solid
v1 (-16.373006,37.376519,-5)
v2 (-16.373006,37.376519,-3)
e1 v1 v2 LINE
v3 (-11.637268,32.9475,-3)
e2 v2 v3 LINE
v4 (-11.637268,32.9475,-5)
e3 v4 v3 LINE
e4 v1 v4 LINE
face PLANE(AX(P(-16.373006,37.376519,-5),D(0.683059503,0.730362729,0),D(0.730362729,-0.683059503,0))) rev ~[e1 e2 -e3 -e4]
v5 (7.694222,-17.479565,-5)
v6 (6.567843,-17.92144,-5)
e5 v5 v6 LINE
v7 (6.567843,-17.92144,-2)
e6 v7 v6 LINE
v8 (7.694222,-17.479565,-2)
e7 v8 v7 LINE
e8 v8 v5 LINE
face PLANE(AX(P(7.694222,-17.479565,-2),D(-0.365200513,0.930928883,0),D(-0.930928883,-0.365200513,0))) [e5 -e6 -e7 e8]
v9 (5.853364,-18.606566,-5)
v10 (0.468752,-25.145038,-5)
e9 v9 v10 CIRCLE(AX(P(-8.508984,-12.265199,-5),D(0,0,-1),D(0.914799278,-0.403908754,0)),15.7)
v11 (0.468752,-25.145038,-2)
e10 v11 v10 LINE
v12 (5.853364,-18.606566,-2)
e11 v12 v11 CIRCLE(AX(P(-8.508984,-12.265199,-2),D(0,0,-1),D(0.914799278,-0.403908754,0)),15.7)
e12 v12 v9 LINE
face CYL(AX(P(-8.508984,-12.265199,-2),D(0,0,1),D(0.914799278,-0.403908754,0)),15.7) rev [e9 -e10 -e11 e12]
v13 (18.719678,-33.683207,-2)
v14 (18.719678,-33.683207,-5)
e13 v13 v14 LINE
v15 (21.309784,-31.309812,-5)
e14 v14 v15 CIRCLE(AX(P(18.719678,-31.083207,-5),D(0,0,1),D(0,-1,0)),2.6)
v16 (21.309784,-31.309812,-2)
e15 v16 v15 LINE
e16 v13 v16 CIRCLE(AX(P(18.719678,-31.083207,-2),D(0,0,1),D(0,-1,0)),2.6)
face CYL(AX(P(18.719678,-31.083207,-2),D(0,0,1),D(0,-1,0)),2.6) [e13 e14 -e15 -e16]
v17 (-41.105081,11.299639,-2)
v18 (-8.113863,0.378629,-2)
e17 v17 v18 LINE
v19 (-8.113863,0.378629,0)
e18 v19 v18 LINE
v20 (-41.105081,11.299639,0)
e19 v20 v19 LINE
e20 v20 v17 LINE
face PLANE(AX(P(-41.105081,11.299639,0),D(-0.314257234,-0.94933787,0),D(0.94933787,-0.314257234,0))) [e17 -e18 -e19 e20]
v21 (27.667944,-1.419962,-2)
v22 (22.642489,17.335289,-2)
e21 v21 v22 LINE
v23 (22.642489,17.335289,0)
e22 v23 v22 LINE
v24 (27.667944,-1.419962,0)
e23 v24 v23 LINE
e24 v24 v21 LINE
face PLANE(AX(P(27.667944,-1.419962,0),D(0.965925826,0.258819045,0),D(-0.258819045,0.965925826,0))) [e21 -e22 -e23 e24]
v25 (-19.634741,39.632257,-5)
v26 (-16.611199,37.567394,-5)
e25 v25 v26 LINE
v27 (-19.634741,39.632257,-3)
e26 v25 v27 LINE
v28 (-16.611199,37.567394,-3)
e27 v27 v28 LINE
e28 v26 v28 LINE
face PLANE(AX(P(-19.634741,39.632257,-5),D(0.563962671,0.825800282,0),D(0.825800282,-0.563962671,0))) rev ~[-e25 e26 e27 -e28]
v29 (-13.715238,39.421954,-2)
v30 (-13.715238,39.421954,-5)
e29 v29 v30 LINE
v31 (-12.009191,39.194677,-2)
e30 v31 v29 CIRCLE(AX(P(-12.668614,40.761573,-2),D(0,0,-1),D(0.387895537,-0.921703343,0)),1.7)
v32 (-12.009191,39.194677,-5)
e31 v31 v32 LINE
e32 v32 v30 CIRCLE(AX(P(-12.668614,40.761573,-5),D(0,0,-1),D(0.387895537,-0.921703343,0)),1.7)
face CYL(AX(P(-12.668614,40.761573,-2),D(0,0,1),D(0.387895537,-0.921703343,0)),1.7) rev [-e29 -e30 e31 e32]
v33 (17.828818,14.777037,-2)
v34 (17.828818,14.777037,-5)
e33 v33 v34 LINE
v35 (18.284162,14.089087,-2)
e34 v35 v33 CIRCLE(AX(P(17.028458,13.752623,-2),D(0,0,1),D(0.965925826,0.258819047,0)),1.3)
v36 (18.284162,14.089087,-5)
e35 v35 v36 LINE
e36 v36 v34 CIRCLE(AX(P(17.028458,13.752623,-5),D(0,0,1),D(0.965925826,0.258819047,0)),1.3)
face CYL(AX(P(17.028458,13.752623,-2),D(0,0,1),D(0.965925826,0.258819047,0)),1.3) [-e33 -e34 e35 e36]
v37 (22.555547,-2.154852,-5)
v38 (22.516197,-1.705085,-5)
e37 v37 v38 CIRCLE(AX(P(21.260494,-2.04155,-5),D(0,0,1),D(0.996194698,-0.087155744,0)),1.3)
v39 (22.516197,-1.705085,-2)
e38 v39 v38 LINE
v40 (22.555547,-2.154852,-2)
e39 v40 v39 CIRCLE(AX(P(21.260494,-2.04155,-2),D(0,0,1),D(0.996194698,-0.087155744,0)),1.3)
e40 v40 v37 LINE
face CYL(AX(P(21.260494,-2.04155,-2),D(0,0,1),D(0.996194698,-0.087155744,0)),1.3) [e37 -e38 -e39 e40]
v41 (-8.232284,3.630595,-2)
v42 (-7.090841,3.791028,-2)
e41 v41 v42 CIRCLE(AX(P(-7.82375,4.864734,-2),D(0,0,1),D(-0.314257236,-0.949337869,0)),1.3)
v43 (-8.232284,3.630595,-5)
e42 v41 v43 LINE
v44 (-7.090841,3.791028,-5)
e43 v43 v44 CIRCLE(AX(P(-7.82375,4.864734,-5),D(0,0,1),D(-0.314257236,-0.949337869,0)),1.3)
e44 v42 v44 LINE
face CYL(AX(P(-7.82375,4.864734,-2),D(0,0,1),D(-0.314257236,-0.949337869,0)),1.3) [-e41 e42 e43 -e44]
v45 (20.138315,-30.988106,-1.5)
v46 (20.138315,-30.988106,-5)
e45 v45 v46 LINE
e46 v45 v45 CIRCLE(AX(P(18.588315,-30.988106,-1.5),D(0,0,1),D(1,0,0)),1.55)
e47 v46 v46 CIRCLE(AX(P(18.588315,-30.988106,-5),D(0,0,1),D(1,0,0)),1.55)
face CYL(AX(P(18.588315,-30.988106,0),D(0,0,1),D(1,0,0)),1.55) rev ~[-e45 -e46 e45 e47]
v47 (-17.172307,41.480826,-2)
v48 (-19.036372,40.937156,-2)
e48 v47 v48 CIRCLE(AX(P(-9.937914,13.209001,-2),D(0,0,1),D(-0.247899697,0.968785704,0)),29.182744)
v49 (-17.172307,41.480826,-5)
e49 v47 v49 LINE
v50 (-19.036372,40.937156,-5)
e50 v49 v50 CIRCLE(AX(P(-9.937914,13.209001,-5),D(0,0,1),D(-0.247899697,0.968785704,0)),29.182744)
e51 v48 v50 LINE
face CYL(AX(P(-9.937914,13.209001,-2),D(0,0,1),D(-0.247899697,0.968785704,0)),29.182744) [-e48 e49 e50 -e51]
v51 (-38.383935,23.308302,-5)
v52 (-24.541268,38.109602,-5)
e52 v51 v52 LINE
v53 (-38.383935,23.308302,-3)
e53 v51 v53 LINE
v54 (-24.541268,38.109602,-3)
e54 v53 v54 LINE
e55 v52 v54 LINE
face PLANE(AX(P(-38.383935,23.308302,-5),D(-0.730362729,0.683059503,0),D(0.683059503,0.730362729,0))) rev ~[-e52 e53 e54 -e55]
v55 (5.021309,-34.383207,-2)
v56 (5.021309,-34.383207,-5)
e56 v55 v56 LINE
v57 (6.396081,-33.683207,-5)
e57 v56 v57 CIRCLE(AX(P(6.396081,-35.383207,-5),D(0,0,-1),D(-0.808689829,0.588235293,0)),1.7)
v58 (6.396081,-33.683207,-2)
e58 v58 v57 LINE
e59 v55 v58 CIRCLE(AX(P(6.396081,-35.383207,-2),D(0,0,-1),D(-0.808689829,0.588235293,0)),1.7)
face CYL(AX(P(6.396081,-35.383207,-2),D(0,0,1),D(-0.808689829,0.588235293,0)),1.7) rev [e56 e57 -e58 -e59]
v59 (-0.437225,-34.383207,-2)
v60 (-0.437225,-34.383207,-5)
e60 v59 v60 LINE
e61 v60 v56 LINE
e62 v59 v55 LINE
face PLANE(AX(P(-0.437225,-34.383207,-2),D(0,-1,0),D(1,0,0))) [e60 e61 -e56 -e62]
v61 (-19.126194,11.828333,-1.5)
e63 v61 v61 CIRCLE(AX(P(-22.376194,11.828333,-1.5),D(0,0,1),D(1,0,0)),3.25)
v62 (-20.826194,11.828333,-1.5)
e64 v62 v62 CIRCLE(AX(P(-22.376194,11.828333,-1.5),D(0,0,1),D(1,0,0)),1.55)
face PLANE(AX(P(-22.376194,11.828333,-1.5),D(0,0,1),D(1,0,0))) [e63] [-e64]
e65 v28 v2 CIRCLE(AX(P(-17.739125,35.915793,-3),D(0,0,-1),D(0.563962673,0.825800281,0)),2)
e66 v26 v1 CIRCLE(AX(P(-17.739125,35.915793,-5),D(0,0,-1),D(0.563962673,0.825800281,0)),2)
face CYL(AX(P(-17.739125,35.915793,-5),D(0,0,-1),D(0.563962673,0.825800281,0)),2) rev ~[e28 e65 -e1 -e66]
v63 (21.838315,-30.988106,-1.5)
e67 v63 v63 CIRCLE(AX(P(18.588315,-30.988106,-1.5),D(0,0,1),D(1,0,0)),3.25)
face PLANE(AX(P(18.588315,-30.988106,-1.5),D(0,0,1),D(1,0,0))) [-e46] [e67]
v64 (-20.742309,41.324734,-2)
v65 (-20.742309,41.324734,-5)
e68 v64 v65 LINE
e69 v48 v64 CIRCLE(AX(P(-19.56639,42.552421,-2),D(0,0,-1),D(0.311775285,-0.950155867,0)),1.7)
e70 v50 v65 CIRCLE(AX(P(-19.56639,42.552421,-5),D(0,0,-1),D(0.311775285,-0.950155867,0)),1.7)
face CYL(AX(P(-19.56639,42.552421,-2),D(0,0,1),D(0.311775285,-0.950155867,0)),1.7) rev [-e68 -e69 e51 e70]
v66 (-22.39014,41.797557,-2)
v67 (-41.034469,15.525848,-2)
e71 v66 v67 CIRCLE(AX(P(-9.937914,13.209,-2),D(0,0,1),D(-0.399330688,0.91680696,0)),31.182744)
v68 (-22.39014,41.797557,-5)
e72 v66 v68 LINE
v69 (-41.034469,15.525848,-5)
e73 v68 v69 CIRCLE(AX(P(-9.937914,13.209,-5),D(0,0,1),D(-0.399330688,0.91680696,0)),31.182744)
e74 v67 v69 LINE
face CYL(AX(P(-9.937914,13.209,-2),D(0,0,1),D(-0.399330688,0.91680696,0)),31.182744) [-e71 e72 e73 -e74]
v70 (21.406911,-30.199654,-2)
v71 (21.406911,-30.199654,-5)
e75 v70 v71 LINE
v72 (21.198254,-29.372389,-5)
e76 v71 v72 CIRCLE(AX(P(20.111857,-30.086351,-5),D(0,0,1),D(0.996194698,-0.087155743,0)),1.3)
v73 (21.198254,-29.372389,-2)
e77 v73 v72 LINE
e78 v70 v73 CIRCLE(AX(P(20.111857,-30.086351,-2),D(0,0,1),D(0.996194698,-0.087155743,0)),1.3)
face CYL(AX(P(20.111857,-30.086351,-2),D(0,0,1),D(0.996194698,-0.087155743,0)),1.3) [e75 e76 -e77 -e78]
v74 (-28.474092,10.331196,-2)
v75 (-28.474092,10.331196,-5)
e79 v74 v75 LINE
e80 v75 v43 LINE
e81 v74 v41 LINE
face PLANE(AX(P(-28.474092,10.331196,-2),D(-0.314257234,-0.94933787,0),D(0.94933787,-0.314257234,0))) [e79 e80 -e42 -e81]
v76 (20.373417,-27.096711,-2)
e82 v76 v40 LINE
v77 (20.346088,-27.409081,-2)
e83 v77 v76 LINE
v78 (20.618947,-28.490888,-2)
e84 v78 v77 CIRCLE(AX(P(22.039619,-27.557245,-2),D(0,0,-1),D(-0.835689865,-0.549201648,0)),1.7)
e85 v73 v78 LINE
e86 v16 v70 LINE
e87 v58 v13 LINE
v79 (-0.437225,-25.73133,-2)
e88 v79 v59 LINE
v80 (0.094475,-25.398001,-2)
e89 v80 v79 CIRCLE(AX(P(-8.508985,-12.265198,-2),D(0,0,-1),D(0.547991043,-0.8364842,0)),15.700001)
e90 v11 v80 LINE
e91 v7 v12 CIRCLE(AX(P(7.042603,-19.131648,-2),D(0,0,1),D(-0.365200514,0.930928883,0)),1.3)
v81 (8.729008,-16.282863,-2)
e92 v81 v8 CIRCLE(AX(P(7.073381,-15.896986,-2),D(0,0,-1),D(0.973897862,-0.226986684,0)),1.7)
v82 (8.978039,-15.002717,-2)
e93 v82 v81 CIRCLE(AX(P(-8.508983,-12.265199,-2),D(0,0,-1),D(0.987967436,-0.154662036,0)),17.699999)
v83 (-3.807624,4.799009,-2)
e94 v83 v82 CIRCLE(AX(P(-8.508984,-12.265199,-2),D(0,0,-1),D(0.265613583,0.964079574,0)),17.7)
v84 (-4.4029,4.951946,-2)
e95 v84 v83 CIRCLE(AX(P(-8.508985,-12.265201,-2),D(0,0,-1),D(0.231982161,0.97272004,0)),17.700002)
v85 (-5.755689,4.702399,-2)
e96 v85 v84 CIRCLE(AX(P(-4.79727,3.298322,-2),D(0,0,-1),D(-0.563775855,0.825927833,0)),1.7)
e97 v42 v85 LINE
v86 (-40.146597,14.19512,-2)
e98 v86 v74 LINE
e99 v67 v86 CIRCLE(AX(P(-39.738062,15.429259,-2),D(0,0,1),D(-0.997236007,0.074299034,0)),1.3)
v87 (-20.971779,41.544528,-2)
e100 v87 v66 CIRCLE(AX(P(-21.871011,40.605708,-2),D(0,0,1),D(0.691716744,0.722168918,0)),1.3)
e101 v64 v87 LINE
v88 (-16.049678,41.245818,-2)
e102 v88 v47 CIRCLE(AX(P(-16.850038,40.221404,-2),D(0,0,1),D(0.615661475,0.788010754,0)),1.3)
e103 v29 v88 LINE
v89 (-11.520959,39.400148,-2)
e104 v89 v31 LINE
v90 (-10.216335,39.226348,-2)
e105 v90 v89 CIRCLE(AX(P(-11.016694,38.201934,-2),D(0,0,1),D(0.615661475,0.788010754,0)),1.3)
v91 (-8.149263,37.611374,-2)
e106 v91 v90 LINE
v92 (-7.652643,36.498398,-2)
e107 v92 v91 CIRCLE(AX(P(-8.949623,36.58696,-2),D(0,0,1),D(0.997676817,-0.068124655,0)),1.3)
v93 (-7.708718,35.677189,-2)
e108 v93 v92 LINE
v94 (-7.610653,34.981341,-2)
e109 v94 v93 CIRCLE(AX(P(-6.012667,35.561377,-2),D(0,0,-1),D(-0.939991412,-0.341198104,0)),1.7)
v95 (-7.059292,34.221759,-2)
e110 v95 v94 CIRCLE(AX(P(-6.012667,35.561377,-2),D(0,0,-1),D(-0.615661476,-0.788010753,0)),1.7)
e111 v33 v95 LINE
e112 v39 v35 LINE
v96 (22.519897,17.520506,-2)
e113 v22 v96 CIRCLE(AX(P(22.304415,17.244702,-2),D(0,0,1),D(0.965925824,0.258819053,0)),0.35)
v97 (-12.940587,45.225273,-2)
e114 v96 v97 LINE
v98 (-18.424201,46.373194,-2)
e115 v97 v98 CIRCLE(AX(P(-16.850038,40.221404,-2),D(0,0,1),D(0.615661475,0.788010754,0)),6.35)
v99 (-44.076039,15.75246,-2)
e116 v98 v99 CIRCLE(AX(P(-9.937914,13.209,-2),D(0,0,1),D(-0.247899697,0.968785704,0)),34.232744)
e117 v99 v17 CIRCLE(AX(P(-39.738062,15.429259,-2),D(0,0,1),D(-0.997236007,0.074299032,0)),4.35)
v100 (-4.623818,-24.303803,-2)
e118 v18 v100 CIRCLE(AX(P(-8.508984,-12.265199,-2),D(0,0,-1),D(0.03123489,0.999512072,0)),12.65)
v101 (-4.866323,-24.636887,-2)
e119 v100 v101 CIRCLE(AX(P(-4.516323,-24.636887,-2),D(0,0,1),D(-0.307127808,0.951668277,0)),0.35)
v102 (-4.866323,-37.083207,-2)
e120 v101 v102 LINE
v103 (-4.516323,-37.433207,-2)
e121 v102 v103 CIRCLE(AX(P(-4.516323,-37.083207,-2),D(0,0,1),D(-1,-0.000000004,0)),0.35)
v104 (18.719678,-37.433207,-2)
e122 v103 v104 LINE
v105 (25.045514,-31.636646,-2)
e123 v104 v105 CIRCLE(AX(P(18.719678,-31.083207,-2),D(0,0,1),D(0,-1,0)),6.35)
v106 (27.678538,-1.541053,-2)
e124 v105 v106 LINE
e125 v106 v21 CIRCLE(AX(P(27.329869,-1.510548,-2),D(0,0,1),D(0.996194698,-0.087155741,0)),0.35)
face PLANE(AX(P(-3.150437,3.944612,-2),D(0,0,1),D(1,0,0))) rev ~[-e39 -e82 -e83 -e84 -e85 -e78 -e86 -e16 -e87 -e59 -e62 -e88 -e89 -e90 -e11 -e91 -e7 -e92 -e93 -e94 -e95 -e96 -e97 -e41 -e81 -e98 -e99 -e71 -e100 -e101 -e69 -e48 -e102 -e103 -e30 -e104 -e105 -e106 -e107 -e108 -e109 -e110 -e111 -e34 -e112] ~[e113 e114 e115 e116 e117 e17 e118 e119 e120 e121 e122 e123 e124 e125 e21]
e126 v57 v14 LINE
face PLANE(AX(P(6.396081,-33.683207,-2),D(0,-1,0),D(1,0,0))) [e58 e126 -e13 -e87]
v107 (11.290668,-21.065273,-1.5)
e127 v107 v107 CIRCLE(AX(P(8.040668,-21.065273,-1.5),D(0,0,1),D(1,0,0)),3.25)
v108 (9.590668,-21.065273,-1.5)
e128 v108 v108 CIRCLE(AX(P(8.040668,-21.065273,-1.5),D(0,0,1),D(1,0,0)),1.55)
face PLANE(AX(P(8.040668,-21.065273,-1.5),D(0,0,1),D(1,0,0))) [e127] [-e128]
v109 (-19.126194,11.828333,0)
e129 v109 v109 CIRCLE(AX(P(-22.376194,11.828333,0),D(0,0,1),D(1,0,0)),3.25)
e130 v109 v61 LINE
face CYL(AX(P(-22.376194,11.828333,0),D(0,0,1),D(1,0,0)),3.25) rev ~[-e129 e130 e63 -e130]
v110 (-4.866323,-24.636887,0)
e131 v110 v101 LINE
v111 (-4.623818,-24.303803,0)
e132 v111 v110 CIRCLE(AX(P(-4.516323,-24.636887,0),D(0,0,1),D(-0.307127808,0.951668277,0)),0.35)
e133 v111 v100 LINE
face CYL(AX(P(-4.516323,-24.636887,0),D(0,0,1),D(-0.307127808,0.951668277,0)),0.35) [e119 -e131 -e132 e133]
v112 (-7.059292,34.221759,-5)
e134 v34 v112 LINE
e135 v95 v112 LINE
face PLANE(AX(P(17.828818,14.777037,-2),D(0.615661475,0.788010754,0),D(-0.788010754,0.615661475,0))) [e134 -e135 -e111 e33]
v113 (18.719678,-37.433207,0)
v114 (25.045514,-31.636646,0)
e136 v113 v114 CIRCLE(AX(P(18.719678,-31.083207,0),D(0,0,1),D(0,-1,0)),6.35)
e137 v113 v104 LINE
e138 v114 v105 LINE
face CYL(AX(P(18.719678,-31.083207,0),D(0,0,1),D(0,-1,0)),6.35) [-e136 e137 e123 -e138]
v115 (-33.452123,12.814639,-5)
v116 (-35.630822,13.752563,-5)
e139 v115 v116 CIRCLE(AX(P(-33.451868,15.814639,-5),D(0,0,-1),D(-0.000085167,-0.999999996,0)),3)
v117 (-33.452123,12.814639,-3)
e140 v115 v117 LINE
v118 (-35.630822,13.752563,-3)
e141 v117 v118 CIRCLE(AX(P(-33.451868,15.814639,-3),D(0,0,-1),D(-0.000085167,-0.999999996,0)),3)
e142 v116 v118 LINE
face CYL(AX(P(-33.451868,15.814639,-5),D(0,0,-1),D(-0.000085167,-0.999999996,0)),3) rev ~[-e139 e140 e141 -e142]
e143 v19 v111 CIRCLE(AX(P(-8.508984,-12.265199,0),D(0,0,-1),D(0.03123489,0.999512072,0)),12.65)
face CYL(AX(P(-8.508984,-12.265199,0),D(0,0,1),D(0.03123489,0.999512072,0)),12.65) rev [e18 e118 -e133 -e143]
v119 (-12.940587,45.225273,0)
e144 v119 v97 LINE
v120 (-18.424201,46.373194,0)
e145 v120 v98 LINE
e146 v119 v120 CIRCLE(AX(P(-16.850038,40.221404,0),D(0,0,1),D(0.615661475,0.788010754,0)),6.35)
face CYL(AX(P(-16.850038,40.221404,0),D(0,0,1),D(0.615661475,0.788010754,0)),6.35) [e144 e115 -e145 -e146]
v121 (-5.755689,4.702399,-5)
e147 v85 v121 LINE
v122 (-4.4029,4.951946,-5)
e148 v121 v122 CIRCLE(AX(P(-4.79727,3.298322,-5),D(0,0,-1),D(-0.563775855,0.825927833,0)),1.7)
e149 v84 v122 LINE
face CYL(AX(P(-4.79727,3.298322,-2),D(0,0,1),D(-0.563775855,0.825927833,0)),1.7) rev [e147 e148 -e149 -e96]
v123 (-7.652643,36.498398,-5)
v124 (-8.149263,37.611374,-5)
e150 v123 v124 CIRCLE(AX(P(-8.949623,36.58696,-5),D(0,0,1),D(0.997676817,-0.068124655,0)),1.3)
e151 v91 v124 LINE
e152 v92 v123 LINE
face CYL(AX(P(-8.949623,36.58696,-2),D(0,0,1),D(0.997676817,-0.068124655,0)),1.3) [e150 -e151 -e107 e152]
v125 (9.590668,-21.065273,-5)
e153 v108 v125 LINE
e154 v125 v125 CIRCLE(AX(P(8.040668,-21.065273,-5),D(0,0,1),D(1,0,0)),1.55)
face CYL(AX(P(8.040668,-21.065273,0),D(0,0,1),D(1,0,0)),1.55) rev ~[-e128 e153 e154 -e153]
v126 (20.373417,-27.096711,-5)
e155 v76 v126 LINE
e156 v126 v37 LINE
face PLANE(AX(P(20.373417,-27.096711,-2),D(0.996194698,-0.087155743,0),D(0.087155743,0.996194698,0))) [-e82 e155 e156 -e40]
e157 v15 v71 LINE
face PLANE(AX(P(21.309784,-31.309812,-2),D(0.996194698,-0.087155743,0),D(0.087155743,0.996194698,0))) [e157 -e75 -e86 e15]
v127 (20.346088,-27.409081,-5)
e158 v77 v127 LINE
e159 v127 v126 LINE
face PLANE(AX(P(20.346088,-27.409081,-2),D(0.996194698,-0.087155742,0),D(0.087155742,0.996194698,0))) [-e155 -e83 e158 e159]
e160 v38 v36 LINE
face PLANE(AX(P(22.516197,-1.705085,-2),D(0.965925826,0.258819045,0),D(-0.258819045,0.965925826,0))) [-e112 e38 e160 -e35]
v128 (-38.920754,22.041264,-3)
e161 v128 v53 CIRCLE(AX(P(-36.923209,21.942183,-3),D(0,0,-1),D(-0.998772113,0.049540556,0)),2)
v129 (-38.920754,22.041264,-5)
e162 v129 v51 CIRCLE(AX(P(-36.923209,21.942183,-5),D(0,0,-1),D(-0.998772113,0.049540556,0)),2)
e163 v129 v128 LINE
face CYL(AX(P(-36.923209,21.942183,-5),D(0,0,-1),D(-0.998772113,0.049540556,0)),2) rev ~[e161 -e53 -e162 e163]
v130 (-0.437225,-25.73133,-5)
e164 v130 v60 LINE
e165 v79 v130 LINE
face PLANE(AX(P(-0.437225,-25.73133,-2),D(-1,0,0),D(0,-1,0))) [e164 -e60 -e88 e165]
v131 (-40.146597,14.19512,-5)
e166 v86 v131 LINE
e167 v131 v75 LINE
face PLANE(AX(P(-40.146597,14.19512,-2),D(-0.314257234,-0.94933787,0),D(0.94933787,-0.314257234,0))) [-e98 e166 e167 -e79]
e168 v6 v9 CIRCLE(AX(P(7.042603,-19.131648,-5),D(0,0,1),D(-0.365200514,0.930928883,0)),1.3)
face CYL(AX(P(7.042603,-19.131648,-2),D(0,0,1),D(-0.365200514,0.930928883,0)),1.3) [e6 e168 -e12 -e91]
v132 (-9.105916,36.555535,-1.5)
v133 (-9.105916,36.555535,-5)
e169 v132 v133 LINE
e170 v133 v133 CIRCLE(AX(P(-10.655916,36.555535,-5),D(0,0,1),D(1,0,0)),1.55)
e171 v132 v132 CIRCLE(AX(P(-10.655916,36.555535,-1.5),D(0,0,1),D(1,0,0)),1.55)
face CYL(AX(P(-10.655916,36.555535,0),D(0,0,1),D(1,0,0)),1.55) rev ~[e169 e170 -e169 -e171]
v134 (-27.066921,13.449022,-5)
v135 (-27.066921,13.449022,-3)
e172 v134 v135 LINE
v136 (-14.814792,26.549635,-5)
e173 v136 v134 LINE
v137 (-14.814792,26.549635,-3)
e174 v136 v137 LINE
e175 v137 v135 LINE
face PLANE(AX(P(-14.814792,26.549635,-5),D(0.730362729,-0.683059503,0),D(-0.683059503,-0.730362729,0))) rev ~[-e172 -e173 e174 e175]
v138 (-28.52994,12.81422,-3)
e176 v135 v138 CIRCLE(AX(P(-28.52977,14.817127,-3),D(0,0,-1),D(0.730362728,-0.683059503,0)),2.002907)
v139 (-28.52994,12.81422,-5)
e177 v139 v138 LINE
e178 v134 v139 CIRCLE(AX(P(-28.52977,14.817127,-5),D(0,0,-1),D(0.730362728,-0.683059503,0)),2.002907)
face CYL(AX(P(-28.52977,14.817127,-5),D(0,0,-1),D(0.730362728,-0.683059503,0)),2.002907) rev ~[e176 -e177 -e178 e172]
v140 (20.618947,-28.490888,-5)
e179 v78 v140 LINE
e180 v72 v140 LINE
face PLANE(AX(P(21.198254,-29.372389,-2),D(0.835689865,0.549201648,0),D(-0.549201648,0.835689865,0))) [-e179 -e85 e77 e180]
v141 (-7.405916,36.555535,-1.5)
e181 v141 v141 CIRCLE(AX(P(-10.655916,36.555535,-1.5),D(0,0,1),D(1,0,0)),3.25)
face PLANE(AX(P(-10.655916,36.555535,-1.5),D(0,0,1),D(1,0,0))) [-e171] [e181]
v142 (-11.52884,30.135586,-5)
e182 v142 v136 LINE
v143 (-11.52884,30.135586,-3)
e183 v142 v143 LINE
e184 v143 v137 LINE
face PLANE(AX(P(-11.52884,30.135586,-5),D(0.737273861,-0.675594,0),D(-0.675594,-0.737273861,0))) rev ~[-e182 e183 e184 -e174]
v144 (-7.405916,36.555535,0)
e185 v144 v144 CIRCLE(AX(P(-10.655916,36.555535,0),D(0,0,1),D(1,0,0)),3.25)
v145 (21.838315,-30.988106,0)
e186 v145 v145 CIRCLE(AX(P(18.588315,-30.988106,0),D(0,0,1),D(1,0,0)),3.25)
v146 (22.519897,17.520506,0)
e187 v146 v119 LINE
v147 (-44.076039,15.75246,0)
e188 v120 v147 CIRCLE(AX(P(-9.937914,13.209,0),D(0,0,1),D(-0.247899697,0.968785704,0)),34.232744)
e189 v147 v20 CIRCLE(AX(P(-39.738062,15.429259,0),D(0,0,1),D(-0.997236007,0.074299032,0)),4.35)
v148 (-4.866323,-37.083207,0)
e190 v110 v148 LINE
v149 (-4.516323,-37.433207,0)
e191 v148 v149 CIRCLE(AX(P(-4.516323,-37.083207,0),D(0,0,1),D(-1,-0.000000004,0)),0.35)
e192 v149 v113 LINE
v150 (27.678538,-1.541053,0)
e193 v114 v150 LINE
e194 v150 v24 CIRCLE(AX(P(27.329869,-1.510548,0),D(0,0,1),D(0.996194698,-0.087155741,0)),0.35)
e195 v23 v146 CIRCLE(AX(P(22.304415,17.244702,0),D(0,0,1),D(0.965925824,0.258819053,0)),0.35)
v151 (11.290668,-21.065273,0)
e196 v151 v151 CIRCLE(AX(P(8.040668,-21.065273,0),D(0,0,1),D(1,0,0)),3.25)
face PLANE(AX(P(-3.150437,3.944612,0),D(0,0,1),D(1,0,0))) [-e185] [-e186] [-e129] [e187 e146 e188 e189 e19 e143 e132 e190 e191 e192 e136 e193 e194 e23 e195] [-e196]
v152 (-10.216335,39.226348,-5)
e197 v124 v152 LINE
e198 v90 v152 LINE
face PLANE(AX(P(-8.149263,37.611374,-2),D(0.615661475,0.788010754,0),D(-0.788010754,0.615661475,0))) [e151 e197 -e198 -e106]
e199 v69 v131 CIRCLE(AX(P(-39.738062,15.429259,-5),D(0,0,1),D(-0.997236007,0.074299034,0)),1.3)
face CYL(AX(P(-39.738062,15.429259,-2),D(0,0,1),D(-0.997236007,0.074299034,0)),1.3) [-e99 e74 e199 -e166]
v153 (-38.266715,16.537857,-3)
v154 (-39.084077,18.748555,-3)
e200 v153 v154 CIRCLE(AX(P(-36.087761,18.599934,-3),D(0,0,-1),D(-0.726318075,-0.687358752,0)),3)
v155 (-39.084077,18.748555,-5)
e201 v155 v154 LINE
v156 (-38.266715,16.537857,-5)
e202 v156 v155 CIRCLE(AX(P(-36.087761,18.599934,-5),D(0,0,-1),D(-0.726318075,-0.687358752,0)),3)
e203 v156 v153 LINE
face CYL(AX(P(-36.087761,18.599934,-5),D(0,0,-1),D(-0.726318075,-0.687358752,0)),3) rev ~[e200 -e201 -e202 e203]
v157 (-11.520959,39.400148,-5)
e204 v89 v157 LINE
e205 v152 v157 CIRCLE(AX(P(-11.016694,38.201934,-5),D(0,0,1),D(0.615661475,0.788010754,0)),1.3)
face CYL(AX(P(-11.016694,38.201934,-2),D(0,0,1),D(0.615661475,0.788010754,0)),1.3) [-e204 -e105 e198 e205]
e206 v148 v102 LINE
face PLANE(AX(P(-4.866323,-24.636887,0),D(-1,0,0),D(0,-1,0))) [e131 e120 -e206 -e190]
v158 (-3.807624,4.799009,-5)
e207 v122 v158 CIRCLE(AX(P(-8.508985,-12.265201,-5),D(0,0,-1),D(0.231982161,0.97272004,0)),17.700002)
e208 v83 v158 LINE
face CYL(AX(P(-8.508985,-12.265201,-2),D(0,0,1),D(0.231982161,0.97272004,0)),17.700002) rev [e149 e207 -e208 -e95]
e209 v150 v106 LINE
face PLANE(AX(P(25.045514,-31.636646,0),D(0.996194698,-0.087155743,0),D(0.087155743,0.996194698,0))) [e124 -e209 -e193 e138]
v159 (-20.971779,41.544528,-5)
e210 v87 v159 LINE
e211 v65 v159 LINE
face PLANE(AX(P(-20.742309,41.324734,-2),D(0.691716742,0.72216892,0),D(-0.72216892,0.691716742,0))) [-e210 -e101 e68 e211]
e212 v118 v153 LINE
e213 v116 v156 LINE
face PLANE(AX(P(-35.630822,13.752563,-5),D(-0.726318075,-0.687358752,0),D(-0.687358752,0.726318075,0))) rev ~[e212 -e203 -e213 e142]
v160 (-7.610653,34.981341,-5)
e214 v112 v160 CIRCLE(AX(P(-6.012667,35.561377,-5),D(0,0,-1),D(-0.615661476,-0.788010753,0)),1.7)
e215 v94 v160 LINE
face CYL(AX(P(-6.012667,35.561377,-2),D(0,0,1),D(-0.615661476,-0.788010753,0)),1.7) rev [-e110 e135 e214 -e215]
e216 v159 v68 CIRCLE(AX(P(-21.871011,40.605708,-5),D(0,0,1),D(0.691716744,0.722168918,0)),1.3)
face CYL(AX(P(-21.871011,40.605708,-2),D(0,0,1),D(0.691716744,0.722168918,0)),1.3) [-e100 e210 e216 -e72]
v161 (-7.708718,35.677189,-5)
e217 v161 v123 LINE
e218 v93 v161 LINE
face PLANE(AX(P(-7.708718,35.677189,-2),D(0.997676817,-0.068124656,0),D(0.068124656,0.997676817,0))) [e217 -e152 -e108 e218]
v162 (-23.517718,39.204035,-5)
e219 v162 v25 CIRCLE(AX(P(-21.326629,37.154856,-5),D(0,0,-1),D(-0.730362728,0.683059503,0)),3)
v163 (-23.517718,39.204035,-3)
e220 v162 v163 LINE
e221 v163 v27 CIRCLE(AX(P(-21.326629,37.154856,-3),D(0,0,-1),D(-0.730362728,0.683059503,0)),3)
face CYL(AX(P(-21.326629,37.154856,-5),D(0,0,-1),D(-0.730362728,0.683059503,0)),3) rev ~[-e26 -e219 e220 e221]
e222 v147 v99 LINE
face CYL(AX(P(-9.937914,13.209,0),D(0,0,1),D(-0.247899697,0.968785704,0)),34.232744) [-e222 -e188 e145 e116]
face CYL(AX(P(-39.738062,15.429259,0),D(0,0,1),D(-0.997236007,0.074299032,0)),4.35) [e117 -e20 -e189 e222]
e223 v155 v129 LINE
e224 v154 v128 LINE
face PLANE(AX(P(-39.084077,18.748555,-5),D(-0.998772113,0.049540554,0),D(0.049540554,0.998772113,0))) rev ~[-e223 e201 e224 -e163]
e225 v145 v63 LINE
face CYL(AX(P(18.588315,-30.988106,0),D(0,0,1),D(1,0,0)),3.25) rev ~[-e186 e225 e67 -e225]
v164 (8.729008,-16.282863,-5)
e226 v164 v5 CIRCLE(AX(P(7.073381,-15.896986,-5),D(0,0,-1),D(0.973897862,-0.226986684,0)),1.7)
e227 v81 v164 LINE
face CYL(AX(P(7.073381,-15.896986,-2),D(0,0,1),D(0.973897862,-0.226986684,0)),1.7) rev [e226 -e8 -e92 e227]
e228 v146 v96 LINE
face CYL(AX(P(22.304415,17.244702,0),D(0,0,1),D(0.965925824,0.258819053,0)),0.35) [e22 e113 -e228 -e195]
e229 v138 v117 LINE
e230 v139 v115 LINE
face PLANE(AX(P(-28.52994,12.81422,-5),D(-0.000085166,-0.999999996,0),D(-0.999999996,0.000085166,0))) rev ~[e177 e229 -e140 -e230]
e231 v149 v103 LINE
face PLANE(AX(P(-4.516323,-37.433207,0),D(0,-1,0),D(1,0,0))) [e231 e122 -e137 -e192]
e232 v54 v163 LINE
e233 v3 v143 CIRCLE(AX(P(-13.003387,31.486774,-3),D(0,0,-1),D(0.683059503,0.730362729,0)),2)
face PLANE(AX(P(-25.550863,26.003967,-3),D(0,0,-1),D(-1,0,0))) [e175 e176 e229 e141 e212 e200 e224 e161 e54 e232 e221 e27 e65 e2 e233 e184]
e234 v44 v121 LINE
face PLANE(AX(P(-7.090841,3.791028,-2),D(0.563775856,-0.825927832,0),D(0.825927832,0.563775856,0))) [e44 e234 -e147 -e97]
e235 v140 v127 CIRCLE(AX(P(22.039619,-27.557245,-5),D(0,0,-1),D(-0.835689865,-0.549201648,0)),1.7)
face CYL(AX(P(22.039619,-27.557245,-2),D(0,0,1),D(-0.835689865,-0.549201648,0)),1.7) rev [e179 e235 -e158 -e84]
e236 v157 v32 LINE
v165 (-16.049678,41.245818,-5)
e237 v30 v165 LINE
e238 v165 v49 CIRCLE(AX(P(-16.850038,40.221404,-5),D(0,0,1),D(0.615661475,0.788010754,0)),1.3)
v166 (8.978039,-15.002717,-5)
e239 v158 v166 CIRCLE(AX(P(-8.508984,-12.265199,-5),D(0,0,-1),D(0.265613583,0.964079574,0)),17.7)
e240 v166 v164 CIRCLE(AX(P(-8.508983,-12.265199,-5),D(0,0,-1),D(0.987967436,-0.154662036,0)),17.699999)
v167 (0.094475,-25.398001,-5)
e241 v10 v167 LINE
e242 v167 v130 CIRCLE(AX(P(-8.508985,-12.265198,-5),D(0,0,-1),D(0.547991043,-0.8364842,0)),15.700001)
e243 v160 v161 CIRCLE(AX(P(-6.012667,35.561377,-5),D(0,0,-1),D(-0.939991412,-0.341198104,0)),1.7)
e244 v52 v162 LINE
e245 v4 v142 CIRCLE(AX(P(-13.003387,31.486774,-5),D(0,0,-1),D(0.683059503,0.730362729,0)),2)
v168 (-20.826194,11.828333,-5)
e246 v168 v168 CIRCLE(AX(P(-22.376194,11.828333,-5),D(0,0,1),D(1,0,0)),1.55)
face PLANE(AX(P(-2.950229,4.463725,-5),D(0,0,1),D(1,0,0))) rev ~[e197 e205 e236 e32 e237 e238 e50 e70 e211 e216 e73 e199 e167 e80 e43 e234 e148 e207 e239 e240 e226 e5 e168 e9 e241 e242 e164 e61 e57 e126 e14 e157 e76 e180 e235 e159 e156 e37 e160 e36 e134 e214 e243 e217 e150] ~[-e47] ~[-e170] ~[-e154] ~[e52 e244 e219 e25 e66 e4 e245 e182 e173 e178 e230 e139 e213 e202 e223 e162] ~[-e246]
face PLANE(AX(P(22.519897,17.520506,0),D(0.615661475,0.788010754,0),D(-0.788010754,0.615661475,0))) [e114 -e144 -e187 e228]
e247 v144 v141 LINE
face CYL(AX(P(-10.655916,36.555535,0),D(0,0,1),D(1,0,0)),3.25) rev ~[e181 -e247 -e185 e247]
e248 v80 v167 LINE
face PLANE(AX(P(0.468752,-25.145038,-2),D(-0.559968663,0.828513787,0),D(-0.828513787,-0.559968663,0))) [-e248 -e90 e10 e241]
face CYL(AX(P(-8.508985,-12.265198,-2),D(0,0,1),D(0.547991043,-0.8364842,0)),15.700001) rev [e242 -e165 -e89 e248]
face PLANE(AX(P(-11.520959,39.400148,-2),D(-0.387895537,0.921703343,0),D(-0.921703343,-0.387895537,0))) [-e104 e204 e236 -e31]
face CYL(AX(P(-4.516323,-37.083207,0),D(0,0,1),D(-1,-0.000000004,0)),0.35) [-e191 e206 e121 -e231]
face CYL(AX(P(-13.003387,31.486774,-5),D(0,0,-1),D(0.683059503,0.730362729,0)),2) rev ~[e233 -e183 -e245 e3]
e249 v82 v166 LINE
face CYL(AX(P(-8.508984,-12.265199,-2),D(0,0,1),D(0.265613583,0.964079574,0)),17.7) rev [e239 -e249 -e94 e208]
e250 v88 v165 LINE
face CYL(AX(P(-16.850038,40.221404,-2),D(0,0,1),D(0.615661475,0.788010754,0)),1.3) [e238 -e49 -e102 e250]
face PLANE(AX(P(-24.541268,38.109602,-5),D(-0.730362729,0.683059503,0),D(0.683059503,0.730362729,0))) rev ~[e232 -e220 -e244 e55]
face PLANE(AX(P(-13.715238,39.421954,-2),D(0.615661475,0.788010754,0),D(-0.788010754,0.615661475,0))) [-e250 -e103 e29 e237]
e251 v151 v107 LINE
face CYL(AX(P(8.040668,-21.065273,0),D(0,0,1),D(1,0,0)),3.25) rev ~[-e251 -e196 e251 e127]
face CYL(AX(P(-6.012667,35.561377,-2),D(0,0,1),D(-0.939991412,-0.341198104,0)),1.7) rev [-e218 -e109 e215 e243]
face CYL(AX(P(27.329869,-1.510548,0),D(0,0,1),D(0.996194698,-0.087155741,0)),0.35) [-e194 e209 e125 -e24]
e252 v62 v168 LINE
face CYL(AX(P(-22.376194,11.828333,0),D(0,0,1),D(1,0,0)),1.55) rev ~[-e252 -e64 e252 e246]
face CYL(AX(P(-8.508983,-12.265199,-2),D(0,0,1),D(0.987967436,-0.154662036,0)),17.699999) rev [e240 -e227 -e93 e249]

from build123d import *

# Parameters (mm, degrees)
Y_KSEKLIK_EKSTR_ZYON1_DEPTH = 2
Y_KSEKLIK_EKSTR_ZYON2_DEPTH = 3
IZIM5_R                     = 1.55
KES_EKSTR_ZYON1_DEPTH       = 5
IZIM6_R                     = 3.25
KES_EKSTR_ZYON2_DEPTH       = 1.5
KES_EKSTR_ZYON3_DEPTH       = 2


with BuildPart() as part:
    # Çizim1 → Yükseklik-Ekstrüzyon1 (new body)
    with BuildSketch(Plane.XY):
        with BuildLine():
            Line((-41.105081413, 11.299639377), (-8.113863068, 0.378628673))
            ThreePointArc((-8.113863068, 0.378628673), (4.01642262, -10.494132055), (-4.623817667, -24.303802743))
            ThreePointArc((-4.623817667, -24.303802743), (-4.799274482, -24.430880762), (-4.866322935, -24.63688664))
            Line((-4.866322935, -24.63688664), (-4.866322935, -37.083207178))
            ThreePointArc((-4.866322935, -37.083207178), (-4.763810308, -37.330694551), (-4.516322935, -37.433207178))
            Line((-4.516322935, -37.433207178), (18.719678074, -37.433207178))
            ThreePointArc((18.719678074, -37.433207178), (23.009675893, -35.764918267), (25.045514407, -31.636646144))
            Line((25.045514407, -31.636646144), (27.678537645, -1.541052822))
            ThreePointArc((27.678537645, -1.541052822), (27.678537645, -1.480043802), (27.66794354, -1.419961646))
            Line((27.66794354, -1.419961646), (22.642489235, 17.335289151))
            ThreePointArc((22.642489235, 17.335289151), (22.596275233, 17.43788043), (22.519896712, 17.520506249))
            Line((22.519896712, 17.520506249), (-12.9405872, 45.225272639))
            ThreePointArc((-12.9405872, 45.225272639), (-15.548952522, 46.436682119), (-18.424200647, 46.373193573))
            ThreePointArc((-18.424200647, 46.373193573), (-36.179435446, 35.192251208), (-44.076039074, 15.752459901))
            ThreePointArc((-44.076039074, 15.752459901), (-43.356576828, 13.014957214), (-41.105081413, 11.299639377))
        make_face()
    extrude(amount=-Y_KSEKLIK_EKSTR_ZYON1_DEPTH)

    # Çizim4 → Yükseklik-Ekstrüzyon2 (add)
    with BuildSketch(Plane(origin=(0, 0, -2), x_dir=(-1, 0, 0), z_dir=(0, 0, -1))):
        with BuildLine():
            Line((40.146596848, 14.195119879), (28.474092029, 10.331196191))
            Line((28.474092029, 10.331196191), (8.232284194, 3.630594906))
            ThreePointArc((8.232284194, 3.630594906), (7.642809613, 3.577387775), (7.090841177, 3.791027954))
            Line((7.090841177, 3.791027954), (5.755688832, 4.702398932))
            ThreePointArc((5.755688832, 4.702398932), (5.105662961, 4.970115176), (4.402900206, 4.951945686))
            ThreePointArc((4.402900206, 4.951945686), (4.10459824, 4.878061515), (3.807624001, 4.799009418))
            ThreePointArc((3.807624001, 4.799009418), (-6.360722696, -2.664063163), (-8.978039182, -15.002717113))
            ThreePointArc((-8.978039182, -15.002717113), (-8.865317675, -15.645084598), (-8.729007726, -16.282863339))
            ThreePointArc((-8.729007726, -16.282863339), (-8.359304972, -17.008921436), (-7.694222234, -17.479565078))
            Line((-7.694222234, -17.479565078), (-6.567842625, -17.921440305))
            ThreePointArc((-6.567842625, -17.921440305), (-6.142840412, -18.193337265), (-5.853364231, -18.606566472))
            ThreePointArc((-5.853364231, -18.606566472), (-3.610330722, -22.245790214), (-0.468752496, -25.145037533))
            Line((-0.468752496, -25.145037533), (-0.094474949, -25.398000973))
            ThreePointArc((-0.094474949, -25.398000973), (0.169709223, -25.567322514), (0.437224607, -25.73133038))
            Line((0.437224607, -25.73133038), (0.437224607, -34.383207178))
            Line((0.437224607, -34.383207178), (-5.021308607, -34.383207178))
            ThreePointArc((-5.021308607, -34.383207178), (-5.624718884, -33.868281437), (-6.396081315, -33.683207178))
            Line((-6.396081315, -33.683207178), (-6.780735729, -33.683207178))
            Line((-6.780735729, -33.683207178), (-14.98347518, -33.683207178))
            Line((-14.98347518, -33.683207178), (-18.719678074, -33.683207178))
            ThreePointArc((-18.719678074, -33.683207178), (-20.476212614, -33.000128254), (-21.309784289, -31.309812109))
            Line((-21.309784289, -31.309812109), (-21.406910581, -30.199653517))
            ThreePointArc((-21.406910581, -30.199653517), (-21.372380233, -29.76841651), (-21.198254298, -29.37238891))
            Line((-21.198254298, -29.37238891), (-20.618946502, -28.490888179))
            ThreePointArc((-20.618946502, -28.490888179), (-20.391243356, -27.973005932), (-20.346088286, -27.409080615))
            Line((-20.346088286, -27.409080615), (-20.37341709, -27.096710955))
            Line((-20.37341709, -27.096710955), (-22.555546966, -2.154852341))
            ThreePointArc((-22.555546966, -2.154852341), (-22.555546966, -1.92824741), (-22.516197432, -1.705085117))
            Line((-22.516197432, -1.705085117), (-18.284161659, 14.089087411))
            ThreePointArc((-18.284161659, 14.089087411), (-18.112509653, 14.470140733), (-17.828818002, 14.777036632))
            Line((-17.828818002, 14.777036632), (7.059291739, 34.221759043))
            ThreePointArc((7.059291739, 34.221759043), (7.388432983, 34.562743961), (7.61065263, 34.981340548))
            ThreePointArc((7.61065263, 34.981340548), (7.696032795, 35.32414247), (7.70871782, 35.677189239))
            Line((7.70871782, 35.677189239), (7.652642966, 36.498398251))
            ThreePointArc((7.652642966, 36.498398251), (7.762446578, 37.116689055), (8.149262911, 37.611374283))
            Line((8.149262911, 37.611374283), (10.2163345, 39.226347605))
            ThreePointArc((10.2163345, 39.226347605), (10.845026685, 39.490549235), (11.520958616, 39.400147972))
            Line((11.520958616, 39.400147972), (12.009191337, 39.194676987))
            ThreePointArc((12.009191337, 39.194676987), (12.893102324, 39.07645995), (13.715238257, 39.421954389))
            Line((13.715238257, 39.421954389), (16.049677651, 41.245818333))
            ThreePointArc((16.049677651, 41.245818333), (16.583673701, 41.493823423), (17.172307175, 41.480825768))
            ThreePointArc((17.172307175, 41.480825768), (18.108862659, 41.224498821), (19.036372112, 40.937156005))
            ThreePointArc((19.036372112, 40.937156005), (19.943021213, 40.894666775), (20.742308561, 41.32473382))
            Line((20.742308561, 41.32473382), (20.971778793, 41.544527828))
            ThreePointArc((20.971778793, 41.544527828), (21.642700826, 41.88550301), (22.390140455, 41.797557284))
            ThreePointArc((22.390140455, 41.797557284), (35.367714895, 31.255849206), (41.034469252, 15.525847852))
            ThreePointArc((41.034469252, 15.525847852), (40.819457547, 14.7077436), (40.146596848, 14.195119879))
        make_face()
    extrude(amount=Y_KSEKLIK_EKSTR_ZYON2_DEPTH)

    # Çizim5 → Kes-Ekstrüzyon1 (cut)
    with BuildSketch(Plane.XY):
        with Locations((18.588315087, -30.988106158)):
            Circle(IZIM5_R)
        with Locations((8.040668379, -21.065272587)):
            Circle(IZIM5_R)
        with Locations((-22.376194422, 11.828332979)):
            Circle(IZIM5_R)
        with Locations((-10.655916137, 36.555534849)):
            Circle(IZIM5_R)
    extrude(amount=-KES_EKSTR_ZYON1_DEPTH, mode=Mode.SUBTRACT)

    # Çizim6 → Kes-Ekstrüzyon2 (cut)
    with BuildSketch(Plane.XY):
        with Locations((18.588315087, -30.988106158)):
            Circle(IZIM6_R)
        with Locations((8.040668379, -21.065272587)):
            Circle(IZIM6_R)
        with Locations((-22.376194422, 11.828332979)):
            Circle(IZIM6_R)
        with Locations((-10.655916137, 36.555534849)):
            Circle(IZIM6_R)
    extrude(amount=-KES_EKSTR_ZYON2_DEPTH, mode=Mode.SUBTRACT)

    # Çizim7 → Kes-Ekstrüzyon3 (cut)
    with BuildSketch(Plane(origin=(0, 0, -5), x_dir=(-1, 0, 0), z_dir=(0, 0, -1))):
        with BuildLine():
            Line((24.541267724, 38.1096017), (23.517717526, 39.20403478))
            ThreePointArc((23.517717526, 39.20403478), (21.655481578, 40.136777833), (19.634741325, 39.632257115))
            Line((19.634741325, 39.632257115), (16.611199337, 37.567393667))
            ThreePointArc((16.611199337, 37.567393667), (16.488455807, 37.476506841), (16.373005674, 37.376518561))
            Line((16.373005674, 37.376518561), (11.637268483, 32.947499711))
            ThreePointArc((11.637268483, 32.947499711), (11.004872743, 31.563837931), (11.528839766, 30.135586253))
            Line((11.528839766, 30.135586253), (14.814792499, 26.549635137))
            Line((14.814792499, 26.549635137), (27.066921229, 13.449022186))
            ThreePointArc((27.066921229, 13.449022186), (27.732524284, 12.979727648), (28.529940113, 12.814219991))
            Line((28.529940113, 12.814219991), (33.452123381, 12.814639194))
            ThreePointArc((33.452123381, 12.814639194), (34.638107313, 13.059129065), (35.630822107, 13.752562927))
            Line((35.630822107, 13.752562927), (38.266714728, 16.537857285))
            ThreePointArc((38.266714728, 16.537857285), (38.901592885, 17.559574312), (39.084076841, 18.748555205))
            Line((39.084076841, 18.748555205), (38.920753656, 22.041264477))
            ThreePointArc((38.920753656, 22.041264477), (38.764745082, 22.722405414), (38.383934887, 23.308302374))
            Line((38.383934887, 23.308302374), (24.541267724, 38.1096017))
        make_face()
    extrude(amount=-KES_EKSTR_ZYON3_DEPTH, mode=Mode.SUBTRACT)


solid = part.part
